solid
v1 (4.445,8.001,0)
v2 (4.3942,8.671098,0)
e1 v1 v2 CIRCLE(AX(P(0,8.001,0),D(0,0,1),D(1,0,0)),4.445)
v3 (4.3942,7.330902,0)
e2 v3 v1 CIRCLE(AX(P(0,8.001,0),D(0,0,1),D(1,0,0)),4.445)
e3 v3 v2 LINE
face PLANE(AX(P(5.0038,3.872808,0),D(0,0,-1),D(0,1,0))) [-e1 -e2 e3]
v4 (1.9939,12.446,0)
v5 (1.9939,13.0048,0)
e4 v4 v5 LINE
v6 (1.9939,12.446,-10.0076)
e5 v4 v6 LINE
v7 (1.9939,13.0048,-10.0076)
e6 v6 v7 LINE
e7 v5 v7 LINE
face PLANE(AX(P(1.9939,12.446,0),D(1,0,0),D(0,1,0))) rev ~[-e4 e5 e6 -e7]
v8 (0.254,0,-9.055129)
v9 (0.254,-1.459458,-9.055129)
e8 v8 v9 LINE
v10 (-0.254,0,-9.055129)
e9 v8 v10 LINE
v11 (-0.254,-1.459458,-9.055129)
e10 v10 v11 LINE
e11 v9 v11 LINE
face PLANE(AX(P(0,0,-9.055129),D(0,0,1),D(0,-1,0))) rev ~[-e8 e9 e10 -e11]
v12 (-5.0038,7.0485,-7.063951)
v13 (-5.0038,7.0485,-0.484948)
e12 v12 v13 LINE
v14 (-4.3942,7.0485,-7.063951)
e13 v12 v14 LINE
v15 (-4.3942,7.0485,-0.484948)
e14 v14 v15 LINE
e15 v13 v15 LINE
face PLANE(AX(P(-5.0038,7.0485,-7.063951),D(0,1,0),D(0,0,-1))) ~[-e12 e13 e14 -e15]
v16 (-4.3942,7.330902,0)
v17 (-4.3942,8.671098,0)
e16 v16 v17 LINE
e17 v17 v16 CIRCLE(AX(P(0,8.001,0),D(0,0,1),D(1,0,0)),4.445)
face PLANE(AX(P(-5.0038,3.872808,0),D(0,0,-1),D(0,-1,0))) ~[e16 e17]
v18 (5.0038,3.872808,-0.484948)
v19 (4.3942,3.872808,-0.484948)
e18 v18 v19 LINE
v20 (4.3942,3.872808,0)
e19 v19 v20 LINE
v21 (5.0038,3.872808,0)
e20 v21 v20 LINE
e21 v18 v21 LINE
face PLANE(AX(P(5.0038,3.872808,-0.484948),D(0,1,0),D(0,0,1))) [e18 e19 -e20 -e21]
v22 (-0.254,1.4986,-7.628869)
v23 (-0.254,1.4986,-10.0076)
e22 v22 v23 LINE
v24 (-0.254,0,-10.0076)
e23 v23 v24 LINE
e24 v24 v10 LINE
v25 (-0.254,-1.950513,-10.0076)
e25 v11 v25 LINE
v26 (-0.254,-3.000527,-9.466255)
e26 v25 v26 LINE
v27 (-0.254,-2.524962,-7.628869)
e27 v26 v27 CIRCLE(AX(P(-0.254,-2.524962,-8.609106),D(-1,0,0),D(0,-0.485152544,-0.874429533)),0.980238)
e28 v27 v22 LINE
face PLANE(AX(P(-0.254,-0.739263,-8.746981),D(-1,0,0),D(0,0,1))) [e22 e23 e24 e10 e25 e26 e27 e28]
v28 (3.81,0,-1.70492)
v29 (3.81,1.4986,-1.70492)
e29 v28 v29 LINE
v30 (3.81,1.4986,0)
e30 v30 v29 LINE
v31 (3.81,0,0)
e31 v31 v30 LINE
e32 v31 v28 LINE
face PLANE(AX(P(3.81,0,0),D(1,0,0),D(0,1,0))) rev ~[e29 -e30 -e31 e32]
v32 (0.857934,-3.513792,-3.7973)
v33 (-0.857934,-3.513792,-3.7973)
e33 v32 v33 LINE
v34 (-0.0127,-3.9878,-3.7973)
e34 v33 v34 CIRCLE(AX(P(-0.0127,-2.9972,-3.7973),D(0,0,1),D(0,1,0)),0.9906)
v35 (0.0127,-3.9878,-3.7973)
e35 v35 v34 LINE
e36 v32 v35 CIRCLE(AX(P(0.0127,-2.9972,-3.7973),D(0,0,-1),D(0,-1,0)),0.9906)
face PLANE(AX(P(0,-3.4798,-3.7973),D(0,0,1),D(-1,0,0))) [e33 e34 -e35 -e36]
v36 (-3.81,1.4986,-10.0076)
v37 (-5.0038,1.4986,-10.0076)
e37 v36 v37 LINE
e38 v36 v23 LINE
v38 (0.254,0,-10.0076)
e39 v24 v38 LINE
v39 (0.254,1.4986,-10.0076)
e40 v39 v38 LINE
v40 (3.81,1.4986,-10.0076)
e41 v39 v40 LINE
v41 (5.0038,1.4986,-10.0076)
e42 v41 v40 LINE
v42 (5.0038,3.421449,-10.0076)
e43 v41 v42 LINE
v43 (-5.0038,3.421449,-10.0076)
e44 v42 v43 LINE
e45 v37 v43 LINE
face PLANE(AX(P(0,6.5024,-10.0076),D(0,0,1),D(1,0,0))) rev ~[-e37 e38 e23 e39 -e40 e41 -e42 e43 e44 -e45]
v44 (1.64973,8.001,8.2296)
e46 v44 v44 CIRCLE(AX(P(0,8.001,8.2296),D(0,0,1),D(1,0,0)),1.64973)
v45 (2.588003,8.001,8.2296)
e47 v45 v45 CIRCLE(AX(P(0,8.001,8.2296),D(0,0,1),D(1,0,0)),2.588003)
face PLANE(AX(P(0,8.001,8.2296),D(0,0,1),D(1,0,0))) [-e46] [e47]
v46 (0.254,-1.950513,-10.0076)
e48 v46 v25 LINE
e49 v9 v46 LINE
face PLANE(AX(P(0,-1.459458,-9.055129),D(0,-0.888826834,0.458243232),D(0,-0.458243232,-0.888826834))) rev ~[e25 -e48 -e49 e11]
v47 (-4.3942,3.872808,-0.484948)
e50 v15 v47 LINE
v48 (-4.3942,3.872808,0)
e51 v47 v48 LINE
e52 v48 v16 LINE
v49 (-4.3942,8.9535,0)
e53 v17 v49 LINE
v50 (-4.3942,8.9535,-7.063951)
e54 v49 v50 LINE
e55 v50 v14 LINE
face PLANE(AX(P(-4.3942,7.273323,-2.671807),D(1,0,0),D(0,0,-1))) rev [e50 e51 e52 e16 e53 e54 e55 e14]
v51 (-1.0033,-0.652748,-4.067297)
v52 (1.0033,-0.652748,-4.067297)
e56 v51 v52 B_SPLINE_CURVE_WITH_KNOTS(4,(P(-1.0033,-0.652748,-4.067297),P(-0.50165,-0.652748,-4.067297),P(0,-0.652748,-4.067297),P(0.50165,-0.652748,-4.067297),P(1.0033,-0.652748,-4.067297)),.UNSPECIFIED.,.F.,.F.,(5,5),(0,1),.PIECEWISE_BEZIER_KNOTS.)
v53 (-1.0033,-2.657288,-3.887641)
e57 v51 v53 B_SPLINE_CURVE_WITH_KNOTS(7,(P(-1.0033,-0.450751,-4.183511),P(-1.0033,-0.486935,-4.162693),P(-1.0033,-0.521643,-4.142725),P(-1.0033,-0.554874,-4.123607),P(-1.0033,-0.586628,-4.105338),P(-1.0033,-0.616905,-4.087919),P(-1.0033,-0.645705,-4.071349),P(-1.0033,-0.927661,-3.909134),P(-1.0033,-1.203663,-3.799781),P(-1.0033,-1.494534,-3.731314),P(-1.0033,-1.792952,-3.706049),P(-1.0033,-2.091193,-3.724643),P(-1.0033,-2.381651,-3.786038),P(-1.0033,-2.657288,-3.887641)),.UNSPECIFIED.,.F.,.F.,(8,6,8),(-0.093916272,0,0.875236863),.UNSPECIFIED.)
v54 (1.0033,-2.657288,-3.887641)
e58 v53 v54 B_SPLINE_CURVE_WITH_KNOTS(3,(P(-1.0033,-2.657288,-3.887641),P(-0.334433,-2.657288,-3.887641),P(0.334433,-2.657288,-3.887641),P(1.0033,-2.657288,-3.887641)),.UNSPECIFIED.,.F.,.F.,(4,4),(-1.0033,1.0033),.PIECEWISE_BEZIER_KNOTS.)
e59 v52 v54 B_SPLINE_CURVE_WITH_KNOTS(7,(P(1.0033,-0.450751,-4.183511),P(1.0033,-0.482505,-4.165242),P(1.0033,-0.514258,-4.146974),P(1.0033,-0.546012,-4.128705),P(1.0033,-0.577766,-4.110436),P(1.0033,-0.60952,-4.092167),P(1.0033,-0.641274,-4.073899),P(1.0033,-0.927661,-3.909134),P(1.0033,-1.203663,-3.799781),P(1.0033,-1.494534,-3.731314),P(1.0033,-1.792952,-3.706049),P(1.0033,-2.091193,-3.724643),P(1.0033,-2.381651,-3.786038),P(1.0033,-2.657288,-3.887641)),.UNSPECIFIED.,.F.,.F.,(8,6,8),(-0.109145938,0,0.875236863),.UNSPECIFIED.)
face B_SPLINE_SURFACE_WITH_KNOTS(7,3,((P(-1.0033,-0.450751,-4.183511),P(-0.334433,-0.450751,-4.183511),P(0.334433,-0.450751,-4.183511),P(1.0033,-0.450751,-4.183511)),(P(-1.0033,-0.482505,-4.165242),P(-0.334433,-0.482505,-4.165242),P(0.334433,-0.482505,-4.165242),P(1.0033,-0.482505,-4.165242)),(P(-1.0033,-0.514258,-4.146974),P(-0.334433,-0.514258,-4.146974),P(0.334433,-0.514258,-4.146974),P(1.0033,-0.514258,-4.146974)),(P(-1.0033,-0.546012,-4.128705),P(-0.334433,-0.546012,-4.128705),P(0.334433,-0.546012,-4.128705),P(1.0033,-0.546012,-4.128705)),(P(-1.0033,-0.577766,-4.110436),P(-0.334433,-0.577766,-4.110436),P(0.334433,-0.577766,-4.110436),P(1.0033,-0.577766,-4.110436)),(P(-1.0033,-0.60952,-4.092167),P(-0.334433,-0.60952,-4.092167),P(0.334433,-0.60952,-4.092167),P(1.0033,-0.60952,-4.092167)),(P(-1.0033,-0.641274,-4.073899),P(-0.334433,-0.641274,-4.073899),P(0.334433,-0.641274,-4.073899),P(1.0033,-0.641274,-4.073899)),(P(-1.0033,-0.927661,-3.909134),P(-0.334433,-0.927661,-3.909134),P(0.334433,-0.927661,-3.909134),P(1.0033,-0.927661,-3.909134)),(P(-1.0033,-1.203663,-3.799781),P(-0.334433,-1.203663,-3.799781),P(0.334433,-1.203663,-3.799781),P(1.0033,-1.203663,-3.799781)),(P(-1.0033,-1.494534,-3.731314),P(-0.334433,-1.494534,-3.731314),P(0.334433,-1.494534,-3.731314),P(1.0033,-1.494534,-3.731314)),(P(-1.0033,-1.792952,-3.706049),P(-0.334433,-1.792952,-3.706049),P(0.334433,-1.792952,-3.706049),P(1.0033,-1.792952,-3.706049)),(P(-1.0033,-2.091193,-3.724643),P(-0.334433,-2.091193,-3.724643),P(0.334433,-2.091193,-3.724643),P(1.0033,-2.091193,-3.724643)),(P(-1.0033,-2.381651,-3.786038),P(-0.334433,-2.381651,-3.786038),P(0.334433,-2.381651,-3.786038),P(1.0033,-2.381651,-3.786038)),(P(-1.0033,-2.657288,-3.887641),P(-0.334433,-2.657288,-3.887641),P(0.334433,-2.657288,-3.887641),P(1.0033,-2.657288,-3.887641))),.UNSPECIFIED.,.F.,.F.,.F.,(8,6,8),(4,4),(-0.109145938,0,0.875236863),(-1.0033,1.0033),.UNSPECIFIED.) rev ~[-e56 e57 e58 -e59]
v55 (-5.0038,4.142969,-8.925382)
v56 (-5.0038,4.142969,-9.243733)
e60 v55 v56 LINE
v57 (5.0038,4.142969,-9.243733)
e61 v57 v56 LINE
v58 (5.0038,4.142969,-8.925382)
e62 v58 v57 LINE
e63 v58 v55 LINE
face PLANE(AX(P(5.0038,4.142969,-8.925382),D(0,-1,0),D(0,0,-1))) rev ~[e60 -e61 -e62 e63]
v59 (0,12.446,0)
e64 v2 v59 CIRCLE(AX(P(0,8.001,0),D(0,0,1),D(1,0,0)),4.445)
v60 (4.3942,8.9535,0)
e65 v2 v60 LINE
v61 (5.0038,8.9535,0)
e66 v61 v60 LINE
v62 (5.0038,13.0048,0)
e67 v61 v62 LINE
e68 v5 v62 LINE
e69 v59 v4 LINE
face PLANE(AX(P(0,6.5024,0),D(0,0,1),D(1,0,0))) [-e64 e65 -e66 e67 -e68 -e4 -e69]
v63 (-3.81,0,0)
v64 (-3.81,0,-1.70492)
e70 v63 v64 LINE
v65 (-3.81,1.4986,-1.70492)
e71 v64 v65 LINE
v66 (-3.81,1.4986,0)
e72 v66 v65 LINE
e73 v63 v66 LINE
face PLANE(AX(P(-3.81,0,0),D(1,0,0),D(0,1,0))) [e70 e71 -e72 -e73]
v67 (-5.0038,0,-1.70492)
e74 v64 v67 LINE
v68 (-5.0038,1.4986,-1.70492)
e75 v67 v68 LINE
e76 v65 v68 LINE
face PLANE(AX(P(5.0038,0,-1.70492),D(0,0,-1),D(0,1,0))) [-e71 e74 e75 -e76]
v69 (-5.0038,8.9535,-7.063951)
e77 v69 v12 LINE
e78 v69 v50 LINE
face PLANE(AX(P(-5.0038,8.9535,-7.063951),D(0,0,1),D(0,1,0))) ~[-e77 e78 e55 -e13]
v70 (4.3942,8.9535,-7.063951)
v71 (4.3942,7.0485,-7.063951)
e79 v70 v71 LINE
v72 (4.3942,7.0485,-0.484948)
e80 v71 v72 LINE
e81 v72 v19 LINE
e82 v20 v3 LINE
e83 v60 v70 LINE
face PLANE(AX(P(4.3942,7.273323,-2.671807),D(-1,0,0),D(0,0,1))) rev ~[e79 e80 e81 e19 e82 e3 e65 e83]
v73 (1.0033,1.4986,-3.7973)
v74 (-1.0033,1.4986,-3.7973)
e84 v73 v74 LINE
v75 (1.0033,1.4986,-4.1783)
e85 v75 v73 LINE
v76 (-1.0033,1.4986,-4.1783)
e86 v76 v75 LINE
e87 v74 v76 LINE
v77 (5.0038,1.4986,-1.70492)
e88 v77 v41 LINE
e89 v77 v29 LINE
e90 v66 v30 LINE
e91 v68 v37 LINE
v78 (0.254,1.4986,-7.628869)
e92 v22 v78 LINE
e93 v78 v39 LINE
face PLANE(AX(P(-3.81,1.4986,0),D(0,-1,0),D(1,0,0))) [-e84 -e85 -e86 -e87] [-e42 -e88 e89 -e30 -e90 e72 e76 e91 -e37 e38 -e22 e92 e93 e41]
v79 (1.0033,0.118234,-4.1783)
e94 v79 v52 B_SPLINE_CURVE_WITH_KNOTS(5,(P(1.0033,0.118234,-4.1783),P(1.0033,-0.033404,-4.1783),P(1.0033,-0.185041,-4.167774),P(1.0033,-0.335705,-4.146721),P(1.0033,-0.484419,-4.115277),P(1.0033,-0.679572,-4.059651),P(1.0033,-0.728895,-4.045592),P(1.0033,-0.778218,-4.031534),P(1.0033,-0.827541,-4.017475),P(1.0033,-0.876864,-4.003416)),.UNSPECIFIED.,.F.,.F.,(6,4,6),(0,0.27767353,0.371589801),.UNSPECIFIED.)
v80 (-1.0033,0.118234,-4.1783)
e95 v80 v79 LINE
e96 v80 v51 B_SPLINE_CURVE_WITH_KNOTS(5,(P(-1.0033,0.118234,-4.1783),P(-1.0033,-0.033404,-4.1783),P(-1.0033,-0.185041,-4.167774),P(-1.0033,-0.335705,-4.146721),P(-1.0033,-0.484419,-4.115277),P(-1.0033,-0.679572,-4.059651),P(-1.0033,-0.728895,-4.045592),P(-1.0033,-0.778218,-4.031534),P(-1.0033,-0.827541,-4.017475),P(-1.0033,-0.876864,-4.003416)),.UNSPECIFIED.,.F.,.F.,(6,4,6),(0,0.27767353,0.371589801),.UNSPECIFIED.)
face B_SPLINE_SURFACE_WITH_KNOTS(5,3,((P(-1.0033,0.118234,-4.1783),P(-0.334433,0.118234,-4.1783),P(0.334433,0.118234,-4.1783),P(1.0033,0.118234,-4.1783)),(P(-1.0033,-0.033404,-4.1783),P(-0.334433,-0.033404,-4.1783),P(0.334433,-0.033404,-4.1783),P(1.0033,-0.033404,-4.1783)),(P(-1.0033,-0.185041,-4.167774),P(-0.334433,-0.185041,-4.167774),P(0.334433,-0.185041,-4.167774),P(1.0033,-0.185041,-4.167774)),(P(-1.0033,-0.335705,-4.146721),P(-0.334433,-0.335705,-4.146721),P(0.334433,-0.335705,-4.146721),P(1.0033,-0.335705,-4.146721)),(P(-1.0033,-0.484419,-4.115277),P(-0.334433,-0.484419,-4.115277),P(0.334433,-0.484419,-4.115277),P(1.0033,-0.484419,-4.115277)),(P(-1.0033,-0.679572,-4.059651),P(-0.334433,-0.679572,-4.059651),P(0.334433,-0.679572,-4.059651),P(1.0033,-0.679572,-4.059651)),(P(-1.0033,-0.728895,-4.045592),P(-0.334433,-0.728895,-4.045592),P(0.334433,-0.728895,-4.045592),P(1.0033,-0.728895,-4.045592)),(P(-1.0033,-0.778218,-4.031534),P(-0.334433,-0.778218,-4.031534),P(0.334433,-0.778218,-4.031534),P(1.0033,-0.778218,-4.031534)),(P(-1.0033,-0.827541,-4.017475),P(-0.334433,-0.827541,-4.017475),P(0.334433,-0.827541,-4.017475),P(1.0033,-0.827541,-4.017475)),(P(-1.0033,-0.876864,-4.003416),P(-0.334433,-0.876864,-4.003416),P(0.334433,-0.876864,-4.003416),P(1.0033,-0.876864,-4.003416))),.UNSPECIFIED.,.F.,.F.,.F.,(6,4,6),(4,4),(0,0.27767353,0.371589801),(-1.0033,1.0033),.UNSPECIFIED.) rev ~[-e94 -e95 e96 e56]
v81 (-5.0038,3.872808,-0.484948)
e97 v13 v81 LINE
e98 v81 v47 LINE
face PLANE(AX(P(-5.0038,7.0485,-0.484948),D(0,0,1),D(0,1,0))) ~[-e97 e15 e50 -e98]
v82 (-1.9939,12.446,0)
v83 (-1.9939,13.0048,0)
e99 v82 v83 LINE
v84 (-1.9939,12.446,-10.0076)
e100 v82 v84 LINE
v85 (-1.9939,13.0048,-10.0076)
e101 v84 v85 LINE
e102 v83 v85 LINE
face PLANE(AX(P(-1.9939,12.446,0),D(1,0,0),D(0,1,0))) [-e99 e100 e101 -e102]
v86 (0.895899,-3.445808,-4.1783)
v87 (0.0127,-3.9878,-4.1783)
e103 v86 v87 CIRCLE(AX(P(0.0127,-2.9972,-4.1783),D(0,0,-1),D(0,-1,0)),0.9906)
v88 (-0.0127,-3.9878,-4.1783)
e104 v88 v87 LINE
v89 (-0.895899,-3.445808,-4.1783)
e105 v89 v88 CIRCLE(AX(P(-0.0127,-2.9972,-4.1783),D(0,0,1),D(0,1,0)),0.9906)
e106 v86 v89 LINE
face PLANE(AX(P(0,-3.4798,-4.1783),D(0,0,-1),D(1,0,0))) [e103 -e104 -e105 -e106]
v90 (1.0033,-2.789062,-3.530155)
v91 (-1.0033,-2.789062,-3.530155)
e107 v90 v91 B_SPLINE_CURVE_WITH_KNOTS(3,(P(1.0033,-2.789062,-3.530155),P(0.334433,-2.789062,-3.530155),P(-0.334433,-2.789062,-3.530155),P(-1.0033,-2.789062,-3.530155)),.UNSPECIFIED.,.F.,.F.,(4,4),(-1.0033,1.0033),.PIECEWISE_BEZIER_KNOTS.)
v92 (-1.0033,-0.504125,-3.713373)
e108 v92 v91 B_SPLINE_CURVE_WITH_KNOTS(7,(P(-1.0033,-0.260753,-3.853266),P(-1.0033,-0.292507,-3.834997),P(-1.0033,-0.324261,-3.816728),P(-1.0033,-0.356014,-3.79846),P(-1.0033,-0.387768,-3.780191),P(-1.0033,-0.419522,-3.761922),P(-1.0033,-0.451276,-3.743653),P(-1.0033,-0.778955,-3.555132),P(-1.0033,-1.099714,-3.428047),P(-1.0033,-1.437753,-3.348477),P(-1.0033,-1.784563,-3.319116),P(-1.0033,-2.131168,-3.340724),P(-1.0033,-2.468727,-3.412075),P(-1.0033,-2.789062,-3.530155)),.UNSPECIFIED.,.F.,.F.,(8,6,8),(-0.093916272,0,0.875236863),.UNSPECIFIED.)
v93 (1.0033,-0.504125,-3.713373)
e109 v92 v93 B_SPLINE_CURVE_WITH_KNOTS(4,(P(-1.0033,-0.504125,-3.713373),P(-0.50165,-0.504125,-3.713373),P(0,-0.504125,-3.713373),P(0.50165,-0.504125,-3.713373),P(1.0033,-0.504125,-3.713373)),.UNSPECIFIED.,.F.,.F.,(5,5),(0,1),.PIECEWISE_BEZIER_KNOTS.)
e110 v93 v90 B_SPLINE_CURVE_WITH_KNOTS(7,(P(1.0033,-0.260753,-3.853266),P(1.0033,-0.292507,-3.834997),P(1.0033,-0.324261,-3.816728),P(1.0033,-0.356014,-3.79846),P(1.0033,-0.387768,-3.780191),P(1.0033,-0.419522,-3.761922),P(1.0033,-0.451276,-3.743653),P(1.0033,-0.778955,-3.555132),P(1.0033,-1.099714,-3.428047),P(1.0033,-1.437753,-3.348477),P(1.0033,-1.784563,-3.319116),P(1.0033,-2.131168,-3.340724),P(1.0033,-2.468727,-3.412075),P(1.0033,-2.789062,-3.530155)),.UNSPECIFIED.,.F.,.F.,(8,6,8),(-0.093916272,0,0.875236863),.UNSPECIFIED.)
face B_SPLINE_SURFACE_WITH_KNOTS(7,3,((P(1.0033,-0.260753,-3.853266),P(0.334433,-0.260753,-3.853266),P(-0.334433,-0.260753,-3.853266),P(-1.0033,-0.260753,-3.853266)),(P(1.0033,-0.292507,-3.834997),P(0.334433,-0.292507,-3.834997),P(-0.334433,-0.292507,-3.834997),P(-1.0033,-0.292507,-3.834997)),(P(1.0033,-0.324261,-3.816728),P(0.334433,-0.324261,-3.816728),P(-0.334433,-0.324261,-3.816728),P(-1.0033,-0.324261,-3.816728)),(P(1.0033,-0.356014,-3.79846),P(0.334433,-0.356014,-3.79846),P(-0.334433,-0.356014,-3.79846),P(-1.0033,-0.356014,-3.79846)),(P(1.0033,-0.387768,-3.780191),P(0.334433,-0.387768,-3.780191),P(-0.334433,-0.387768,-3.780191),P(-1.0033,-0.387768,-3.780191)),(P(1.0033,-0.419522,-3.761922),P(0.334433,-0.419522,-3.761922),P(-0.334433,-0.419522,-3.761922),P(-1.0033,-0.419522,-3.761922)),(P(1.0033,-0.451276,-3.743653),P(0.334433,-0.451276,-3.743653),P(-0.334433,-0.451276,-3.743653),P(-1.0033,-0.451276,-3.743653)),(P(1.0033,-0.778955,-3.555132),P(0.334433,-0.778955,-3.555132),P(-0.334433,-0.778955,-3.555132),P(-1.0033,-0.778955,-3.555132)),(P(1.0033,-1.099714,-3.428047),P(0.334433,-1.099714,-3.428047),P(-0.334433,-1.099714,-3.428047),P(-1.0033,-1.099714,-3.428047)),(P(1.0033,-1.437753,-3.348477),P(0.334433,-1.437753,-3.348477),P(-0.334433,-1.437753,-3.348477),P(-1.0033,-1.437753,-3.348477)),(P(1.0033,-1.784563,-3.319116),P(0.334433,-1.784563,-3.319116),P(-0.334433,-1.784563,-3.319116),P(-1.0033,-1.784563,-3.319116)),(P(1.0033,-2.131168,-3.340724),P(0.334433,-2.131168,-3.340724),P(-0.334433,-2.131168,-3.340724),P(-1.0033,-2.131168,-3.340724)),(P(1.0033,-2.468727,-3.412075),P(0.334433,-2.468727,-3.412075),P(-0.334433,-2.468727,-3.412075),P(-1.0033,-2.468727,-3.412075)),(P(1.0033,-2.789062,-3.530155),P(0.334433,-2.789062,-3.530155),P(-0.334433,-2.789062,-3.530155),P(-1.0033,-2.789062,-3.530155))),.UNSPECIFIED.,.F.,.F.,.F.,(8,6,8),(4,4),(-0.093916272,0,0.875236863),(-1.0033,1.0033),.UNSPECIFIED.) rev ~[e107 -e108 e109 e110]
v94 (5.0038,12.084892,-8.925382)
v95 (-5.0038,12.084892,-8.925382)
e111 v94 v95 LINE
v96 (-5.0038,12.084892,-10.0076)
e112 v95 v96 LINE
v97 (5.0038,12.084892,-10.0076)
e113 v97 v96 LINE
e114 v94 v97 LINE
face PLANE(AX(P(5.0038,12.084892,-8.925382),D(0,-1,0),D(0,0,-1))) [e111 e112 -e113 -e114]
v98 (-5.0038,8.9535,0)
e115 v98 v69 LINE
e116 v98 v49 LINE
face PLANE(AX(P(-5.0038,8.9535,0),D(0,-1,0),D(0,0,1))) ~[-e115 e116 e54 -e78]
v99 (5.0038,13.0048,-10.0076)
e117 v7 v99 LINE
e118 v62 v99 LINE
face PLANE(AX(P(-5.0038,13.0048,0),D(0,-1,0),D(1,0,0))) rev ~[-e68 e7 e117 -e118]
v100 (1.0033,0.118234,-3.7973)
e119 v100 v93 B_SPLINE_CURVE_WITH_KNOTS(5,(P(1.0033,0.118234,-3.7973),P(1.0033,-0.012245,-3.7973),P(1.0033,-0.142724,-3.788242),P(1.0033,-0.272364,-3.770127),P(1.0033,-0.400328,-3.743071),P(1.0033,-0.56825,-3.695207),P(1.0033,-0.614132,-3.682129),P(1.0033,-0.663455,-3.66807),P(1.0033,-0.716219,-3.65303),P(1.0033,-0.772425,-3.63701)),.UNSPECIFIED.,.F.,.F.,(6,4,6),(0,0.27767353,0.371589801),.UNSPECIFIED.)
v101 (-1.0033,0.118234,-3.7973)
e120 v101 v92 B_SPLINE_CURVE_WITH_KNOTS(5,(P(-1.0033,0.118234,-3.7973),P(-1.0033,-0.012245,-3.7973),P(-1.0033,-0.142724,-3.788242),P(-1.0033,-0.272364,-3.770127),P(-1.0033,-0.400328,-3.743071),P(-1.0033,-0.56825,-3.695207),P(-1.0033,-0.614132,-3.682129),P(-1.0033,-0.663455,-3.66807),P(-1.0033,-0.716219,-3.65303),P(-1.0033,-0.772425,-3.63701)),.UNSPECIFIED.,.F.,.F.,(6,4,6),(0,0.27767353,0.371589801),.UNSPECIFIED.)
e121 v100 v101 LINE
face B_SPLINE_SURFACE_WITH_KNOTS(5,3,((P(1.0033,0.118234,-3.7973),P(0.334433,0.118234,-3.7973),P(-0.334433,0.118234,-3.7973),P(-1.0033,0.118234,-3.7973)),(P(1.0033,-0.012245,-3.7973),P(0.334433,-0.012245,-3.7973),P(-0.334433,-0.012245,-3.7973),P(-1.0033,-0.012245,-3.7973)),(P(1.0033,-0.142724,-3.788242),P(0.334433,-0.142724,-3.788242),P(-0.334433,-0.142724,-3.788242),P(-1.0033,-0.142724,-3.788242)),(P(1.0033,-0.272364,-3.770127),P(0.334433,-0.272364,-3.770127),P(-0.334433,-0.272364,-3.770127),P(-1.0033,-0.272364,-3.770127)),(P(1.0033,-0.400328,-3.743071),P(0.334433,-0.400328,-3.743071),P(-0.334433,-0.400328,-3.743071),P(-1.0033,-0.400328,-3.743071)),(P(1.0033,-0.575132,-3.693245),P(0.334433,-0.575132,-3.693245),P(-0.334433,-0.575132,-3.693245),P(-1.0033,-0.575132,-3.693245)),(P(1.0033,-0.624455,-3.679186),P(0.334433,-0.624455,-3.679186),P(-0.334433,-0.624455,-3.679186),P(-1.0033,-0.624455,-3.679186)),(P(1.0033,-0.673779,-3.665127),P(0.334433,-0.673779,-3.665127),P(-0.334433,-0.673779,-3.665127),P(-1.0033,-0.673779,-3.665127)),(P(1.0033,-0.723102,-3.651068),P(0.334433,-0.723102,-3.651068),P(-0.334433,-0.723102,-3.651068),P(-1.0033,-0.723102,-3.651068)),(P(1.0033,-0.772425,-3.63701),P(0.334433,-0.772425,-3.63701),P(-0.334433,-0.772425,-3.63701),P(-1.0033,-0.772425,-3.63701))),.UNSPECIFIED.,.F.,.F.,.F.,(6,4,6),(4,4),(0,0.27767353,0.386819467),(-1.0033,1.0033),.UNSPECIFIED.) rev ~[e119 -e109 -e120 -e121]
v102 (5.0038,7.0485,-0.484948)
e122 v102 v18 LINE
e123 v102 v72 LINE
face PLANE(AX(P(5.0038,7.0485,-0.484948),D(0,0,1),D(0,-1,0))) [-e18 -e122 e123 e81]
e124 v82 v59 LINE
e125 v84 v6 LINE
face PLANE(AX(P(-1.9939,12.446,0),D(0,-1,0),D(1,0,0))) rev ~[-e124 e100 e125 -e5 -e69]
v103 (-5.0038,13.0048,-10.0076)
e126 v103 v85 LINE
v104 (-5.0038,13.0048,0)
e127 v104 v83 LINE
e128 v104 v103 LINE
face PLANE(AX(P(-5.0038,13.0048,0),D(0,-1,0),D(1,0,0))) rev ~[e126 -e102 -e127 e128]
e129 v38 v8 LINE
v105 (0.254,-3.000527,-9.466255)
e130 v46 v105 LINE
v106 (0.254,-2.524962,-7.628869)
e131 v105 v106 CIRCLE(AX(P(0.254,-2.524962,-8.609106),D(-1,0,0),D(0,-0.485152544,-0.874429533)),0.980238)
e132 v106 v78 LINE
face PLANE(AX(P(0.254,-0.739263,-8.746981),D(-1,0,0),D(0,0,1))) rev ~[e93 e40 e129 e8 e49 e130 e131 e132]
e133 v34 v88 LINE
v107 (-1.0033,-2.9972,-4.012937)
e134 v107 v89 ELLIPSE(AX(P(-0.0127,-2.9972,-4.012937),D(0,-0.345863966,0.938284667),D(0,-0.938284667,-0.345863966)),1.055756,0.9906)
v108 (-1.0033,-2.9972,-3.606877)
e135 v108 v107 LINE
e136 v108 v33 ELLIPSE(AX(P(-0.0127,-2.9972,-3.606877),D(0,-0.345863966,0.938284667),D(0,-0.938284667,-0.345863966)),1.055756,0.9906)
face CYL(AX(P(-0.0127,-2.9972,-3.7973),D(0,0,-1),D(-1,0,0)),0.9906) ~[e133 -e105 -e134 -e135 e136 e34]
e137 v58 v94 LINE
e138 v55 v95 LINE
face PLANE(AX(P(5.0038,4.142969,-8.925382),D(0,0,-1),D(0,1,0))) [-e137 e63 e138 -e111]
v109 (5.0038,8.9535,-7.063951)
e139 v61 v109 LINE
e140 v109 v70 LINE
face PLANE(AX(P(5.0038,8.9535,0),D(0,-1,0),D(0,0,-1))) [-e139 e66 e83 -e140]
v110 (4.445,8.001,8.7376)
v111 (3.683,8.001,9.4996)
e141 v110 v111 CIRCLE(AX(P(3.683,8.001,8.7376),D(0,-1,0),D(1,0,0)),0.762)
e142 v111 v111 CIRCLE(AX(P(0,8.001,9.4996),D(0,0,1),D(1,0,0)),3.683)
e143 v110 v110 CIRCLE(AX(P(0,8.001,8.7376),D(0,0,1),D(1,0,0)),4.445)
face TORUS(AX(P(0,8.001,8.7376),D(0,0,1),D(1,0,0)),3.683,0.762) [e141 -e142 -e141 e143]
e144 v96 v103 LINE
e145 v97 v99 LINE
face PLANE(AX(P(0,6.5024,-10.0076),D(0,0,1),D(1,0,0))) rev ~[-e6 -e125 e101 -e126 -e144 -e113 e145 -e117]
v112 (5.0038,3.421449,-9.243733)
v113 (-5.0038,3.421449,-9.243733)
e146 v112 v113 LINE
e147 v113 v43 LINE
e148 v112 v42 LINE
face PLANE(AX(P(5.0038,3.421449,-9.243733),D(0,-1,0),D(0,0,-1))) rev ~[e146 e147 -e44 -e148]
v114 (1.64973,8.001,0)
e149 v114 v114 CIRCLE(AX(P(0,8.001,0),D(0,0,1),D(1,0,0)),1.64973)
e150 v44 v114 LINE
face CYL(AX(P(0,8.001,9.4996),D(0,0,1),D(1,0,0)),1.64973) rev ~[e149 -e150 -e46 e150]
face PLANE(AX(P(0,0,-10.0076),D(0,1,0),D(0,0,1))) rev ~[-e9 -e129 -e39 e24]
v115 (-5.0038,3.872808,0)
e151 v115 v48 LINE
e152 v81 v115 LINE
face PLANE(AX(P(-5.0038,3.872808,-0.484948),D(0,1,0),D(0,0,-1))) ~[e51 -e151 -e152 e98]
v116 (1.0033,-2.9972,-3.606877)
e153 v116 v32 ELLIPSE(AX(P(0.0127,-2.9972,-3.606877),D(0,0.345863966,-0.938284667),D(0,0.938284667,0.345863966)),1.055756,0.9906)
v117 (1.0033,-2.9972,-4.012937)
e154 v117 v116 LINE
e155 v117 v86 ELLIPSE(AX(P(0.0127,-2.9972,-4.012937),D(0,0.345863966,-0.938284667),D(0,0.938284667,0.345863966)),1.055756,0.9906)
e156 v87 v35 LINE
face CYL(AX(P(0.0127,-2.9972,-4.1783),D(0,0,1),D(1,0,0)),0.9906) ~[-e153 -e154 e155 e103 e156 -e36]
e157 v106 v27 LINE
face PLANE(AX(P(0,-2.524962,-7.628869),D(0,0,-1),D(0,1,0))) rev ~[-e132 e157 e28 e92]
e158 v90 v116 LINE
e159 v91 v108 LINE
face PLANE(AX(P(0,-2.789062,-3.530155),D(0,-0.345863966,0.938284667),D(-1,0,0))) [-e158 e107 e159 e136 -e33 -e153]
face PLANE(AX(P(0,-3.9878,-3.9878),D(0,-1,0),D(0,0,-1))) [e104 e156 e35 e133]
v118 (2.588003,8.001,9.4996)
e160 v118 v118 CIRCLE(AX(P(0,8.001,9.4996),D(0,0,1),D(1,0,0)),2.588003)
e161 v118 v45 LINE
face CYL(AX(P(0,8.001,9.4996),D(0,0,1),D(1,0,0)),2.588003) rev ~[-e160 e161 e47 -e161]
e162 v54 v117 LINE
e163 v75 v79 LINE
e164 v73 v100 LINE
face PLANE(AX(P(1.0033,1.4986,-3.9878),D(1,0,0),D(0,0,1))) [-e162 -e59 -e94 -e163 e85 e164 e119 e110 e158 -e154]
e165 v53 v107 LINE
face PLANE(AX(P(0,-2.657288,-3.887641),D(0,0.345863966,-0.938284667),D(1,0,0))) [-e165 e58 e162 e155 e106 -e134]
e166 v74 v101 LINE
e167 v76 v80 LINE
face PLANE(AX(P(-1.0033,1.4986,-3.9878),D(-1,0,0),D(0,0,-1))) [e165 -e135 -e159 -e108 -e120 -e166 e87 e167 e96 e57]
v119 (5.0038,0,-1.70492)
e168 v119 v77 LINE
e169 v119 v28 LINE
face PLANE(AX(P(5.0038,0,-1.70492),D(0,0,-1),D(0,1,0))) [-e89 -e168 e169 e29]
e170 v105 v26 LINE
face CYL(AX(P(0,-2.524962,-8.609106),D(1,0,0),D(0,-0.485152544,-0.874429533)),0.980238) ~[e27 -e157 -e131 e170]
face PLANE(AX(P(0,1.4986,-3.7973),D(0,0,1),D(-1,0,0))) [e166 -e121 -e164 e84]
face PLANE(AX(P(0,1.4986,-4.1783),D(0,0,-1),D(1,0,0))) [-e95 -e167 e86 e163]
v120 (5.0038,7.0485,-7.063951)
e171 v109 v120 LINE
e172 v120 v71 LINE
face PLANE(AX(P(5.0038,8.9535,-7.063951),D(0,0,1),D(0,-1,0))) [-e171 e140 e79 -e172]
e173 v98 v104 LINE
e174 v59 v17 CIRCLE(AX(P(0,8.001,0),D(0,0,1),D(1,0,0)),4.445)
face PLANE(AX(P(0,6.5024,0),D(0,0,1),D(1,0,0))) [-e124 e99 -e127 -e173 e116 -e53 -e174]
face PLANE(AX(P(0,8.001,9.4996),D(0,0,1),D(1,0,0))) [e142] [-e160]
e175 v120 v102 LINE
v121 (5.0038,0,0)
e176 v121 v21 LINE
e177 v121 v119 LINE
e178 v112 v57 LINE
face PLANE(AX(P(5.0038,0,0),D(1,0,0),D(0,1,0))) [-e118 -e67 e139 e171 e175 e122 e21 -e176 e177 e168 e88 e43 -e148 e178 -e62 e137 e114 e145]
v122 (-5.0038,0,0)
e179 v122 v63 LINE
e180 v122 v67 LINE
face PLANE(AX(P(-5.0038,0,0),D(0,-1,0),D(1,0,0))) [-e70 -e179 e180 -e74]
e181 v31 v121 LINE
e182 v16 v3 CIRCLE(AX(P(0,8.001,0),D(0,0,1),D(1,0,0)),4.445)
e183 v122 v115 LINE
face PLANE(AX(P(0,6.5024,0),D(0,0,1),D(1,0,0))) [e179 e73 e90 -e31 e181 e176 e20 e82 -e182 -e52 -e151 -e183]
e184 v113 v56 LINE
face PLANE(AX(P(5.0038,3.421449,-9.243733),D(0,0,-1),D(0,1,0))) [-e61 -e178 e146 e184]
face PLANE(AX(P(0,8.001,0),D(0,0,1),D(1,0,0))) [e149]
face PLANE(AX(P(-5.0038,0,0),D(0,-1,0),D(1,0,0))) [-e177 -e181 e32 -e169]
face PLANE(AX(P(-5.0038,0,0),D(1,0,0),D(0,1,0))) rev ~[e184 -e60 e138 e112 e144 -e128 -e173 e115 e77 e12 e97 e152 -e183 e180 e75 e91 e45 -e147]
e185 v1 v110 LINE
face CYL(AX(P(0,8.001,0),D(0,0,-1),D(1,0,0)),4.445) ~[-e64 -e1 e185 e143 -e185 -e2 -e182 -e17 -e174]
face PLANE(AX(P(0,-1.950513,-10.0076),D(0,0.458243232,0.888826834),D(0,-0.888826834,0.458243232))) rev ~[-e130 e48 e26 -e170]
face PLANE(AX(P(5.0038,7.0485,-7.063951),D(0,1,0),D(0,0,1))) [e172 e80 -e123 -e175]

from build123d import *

# Parameters (mm, degrees)
SKETCH1_W          = 10.0076
SKETCH1_H          = 13.0048
EXTRUDE1_DEPTH     = 10.0076
SKETCH2_R          = 4.445
EXTRUDE2_DEPTH     = 9.4996
FILLET1_R          = 0.762
SKETCH3_R          = 1.64973
CUT_EXTRUDE1_DEPTH = 9.4996
CUT_EXTRUDE2_DEPTH = 0.6096
SKETCH5_W          = 1.082217623
SKETCH5_H          = 7.941923042
CUT_EXTRUDE3_DEPTH = 11.0076
SKETCH6_W          = 7.62
SKETCH6_H          = 1.4986
CUT_EXTRUDE4_DEPTH = 11.0076
SKETCH7_R          = 2.588003294
CUT_EXTRUDE5_DEPTH = 1.27
SKETCH8_W          = 3.9878
SKETCH8_H          = 0.5588
CUT_EXTRUDE6_DEPTH = 11.0076
SKETCH10_W         = 8.302680101
SKETCH10_H         = 1.4986
CUT_EXTRUDE8_DEPTH = 11.0076
SKETCH11_W         = 0.763867388
SKETCH11_H         = 0.721519404
CUT_EXTRUDE9_DEPTH = 11.0076
SKETCH12_W         = 2.0066
SKETCH12_H         = 0.381
FILLET2_R          = 0.9906
EXTRUDE3_DEPTH     = 0.254


with BuildPart() as part:
    # Sketch1 → Extrude1 (new body)
    with BuildSketch(Plane.XY):
        with Locations((0, 6.5024)):
            Rectangle(SKETCH1_W, SKETCH1_H)
    extrude(amount=-EXTRUDE1_DEPTH)

    # Sketch2 → Extrude2 (add)
    with BuildSketch(Plane.XY):
        with Locations((0, 8.001)):
            Circle(SKETCH2_R)
    extrude(amount=EXTRUDE2_DEPTH)

    # Fillet1
    fillet1_edges = [part.edges().sort_by_distance(p)[0] for p in [
        (-4.445, 8.001, 9.4996),
    ]]
    fillet(fillet1_edges, radius=FILLET1_R)

    # Sketch3 → Cut-Extrude1 (cut)
    with BuildSketch(Plane.XY.offset(9.4996)):
        with Locations((0, 8.001)):
            Circle(SKETCH3_R)
    extrude(amount=-CUT_EXTRUDE1_DEPTH, mode=Mode.SUBTRACT)

    # Sketch4 → Cut-Extrude2 (cut)
    with BuildSketch(Plane(origin=(5.0038, 0, 0), x_dir=(0, 0, -1), z_dir=(1, 0, 0))):
        Polygon((0, 8.9535), (7.063951239, 8.9535), (7.063951239, 7.0485), (0.484947525, 7.0485), (0.484947525, 3.872808147), (0, 3.872808147), align=None)
    cut_extrude2 = extrude(amount=-CUT_EXTRUDE2_DEPTH, mode=Mode.SUBTRACT)

    # Sketch5 → Cut-Extrude3 (cut, through all)
    with BuildSketch(Plane(origin=(5.0038, 0, 0), x_dir=(0, 0, -1), z_dir=(1, 0, 0))):
        with Locations((9.466491189, 8.113930335)):
            Rectangle(SKETCH5_W, SKETCH5_H)
    extrude(amount=-CUT_EXTRUDE3_DEPTH, mode=Mode.SUBTRACT)

    # Sketch6 → Cut-Extrude4 (cut, through all)
    with BuildSketch(Plane.XY):
        with Locations((0, 0.7493)):
            Rectangle(SKETCH6_W, SKETCH6_H)
    extrude(amount=-CUT_EXTRUDE4_DEPTH, mode=Mode.SUBTRACT)

    # Sketch7 → Cut-Extrude5 (cut)
    with BuildSketch(Plane.XY.offset(9.4996)):
        with Locations((0, 8.001)):
            Circle(SKETCH7_R)
    extrude(amount=-CUT_EXTRUDE5_DEPTH, mode=Mode.SUBTRACT)

    # Sketch8 → Cut-Extrude6 (cut, through all)
    with BuildSketch(Plane.XY):
        with Locations((0, 12.7254)):
            Rectangle(SKETCH8_W, SKETCH8_H)
    extrude(amount=-CUT_EXTRUDE6_DEPTH, mode=Mode.SUBTRACT)

    # Mirror1: Cut-Extrude2 across plane
    add(cut_extrude2.mirror(Plane(origin=(0, 0, 0), x_dir=(0, 0, 1), z_dir=(1, 0, 0))), mode=Mode.SUBTRACT)

    # Sketch10 → Cut-Extrude8 (cut, through all)
    with BuildSketch(Plane(origin=(5.0038, 0, 0), x_dir=(0, 0, -1), z_dir=(1, 0, 0))):
        with Locations((5.85625995, 0.7493)):
            Rectangle(SKETCH10_W, SKETCH10_H)
    extrude(amount=-CUT_EXTRUDE8_DEPTH, mode=Mode.SUBTRACT)

    # Sketch11 → Cut-Extrude9 (cut, through all)
    with BuildSketch(Plane(origin=(5.0038, 0, 0), x_dir=(0, 0, -1), z_dir=(1, 0, 0))):
        with Locations((9.625666306, 3.782209112)):
            Rectangle(SKETCH11_W, SKETCH11_H)
    extrude(amount=-CUT_EXTRUDE9_DEPTH, mode=Mode.SUBTRACT)

    # Sweep1: sweep along a path in Sketch13
    with BuildLine(Plane(origin=(0, 0, 0), x_dir=(0, 0, -1), z_dir=(1, 0, 0))) as sweep1_path:
        Line((3.9878, 1.4986), (3.9878, 0.118233573))
        ThreePointArc((3.9878, 0.118233573), (3.963359224, -0.233279995), (3.890507253, -0.578028788))
        ThreePointArc((3.890507253, -0.578028788), (3.561195264, -1.630409905), (3.70889827, -2.723175307))
        Line((3.70889827, -2.723175307), (3.9878, -3.4798))
        Line((3.9878, -3.4798), (3.9878, -3.9878))
    # Sketch12 → Sweep1 (sweep)
    with BuildSketch(Plane.XZ.offset(-1.4986)):
        with Locations((0, -3.9878)):
            Rectangle(SKETCH12_W, SKETCH12_H)
    sweep(path=sweep1_path.line, transition=Transition.RIGHT)

    # Fillet2
    fillet2_edges = [part.edges().sort_by_distance(p)[0] for p in [
        (1.0033, -3.9878, -3.9878),
        (-1.0033, -3.9878, -3.9878),
    ]]
    fillet(fillet2_edges, radius=FILLET2_R)

    # Sketch14 → Extrude3 (add, symmetric)
    with BuildSketch(Plane(origin=(0, 0, 0), x_dir=(0, 0, -1), z_dir=(1, 0, 0))):
        with BuildLine():
            Line((10.007599936, 0), (9.055129464, 0))
            Line((9.055129464, 0), (9.055129464, -1.459458075))
            Line((9.055129464, -1.459458075), (10.007599936, -1.950513398))
            Line((10.007599936, -1.950513398), (9.466255271, -3.000527083))
            ThreePointArc((9.466255271, -3.000527083), (8.363488428, -3.473928976), (7.628868664, -2.52496224))
            Line((7.628868664, -2.52496224), (7.628868664, 1.4986))
            Line((7.628868664, 1.4986), (10.007599936, 1.4986))
            Line((10.007599936, 1.4986), (10.007599936, 0))
        make_face()
    extrude(amount=EXTRUDE3_DEPTH, both=True)


solid = part.part
